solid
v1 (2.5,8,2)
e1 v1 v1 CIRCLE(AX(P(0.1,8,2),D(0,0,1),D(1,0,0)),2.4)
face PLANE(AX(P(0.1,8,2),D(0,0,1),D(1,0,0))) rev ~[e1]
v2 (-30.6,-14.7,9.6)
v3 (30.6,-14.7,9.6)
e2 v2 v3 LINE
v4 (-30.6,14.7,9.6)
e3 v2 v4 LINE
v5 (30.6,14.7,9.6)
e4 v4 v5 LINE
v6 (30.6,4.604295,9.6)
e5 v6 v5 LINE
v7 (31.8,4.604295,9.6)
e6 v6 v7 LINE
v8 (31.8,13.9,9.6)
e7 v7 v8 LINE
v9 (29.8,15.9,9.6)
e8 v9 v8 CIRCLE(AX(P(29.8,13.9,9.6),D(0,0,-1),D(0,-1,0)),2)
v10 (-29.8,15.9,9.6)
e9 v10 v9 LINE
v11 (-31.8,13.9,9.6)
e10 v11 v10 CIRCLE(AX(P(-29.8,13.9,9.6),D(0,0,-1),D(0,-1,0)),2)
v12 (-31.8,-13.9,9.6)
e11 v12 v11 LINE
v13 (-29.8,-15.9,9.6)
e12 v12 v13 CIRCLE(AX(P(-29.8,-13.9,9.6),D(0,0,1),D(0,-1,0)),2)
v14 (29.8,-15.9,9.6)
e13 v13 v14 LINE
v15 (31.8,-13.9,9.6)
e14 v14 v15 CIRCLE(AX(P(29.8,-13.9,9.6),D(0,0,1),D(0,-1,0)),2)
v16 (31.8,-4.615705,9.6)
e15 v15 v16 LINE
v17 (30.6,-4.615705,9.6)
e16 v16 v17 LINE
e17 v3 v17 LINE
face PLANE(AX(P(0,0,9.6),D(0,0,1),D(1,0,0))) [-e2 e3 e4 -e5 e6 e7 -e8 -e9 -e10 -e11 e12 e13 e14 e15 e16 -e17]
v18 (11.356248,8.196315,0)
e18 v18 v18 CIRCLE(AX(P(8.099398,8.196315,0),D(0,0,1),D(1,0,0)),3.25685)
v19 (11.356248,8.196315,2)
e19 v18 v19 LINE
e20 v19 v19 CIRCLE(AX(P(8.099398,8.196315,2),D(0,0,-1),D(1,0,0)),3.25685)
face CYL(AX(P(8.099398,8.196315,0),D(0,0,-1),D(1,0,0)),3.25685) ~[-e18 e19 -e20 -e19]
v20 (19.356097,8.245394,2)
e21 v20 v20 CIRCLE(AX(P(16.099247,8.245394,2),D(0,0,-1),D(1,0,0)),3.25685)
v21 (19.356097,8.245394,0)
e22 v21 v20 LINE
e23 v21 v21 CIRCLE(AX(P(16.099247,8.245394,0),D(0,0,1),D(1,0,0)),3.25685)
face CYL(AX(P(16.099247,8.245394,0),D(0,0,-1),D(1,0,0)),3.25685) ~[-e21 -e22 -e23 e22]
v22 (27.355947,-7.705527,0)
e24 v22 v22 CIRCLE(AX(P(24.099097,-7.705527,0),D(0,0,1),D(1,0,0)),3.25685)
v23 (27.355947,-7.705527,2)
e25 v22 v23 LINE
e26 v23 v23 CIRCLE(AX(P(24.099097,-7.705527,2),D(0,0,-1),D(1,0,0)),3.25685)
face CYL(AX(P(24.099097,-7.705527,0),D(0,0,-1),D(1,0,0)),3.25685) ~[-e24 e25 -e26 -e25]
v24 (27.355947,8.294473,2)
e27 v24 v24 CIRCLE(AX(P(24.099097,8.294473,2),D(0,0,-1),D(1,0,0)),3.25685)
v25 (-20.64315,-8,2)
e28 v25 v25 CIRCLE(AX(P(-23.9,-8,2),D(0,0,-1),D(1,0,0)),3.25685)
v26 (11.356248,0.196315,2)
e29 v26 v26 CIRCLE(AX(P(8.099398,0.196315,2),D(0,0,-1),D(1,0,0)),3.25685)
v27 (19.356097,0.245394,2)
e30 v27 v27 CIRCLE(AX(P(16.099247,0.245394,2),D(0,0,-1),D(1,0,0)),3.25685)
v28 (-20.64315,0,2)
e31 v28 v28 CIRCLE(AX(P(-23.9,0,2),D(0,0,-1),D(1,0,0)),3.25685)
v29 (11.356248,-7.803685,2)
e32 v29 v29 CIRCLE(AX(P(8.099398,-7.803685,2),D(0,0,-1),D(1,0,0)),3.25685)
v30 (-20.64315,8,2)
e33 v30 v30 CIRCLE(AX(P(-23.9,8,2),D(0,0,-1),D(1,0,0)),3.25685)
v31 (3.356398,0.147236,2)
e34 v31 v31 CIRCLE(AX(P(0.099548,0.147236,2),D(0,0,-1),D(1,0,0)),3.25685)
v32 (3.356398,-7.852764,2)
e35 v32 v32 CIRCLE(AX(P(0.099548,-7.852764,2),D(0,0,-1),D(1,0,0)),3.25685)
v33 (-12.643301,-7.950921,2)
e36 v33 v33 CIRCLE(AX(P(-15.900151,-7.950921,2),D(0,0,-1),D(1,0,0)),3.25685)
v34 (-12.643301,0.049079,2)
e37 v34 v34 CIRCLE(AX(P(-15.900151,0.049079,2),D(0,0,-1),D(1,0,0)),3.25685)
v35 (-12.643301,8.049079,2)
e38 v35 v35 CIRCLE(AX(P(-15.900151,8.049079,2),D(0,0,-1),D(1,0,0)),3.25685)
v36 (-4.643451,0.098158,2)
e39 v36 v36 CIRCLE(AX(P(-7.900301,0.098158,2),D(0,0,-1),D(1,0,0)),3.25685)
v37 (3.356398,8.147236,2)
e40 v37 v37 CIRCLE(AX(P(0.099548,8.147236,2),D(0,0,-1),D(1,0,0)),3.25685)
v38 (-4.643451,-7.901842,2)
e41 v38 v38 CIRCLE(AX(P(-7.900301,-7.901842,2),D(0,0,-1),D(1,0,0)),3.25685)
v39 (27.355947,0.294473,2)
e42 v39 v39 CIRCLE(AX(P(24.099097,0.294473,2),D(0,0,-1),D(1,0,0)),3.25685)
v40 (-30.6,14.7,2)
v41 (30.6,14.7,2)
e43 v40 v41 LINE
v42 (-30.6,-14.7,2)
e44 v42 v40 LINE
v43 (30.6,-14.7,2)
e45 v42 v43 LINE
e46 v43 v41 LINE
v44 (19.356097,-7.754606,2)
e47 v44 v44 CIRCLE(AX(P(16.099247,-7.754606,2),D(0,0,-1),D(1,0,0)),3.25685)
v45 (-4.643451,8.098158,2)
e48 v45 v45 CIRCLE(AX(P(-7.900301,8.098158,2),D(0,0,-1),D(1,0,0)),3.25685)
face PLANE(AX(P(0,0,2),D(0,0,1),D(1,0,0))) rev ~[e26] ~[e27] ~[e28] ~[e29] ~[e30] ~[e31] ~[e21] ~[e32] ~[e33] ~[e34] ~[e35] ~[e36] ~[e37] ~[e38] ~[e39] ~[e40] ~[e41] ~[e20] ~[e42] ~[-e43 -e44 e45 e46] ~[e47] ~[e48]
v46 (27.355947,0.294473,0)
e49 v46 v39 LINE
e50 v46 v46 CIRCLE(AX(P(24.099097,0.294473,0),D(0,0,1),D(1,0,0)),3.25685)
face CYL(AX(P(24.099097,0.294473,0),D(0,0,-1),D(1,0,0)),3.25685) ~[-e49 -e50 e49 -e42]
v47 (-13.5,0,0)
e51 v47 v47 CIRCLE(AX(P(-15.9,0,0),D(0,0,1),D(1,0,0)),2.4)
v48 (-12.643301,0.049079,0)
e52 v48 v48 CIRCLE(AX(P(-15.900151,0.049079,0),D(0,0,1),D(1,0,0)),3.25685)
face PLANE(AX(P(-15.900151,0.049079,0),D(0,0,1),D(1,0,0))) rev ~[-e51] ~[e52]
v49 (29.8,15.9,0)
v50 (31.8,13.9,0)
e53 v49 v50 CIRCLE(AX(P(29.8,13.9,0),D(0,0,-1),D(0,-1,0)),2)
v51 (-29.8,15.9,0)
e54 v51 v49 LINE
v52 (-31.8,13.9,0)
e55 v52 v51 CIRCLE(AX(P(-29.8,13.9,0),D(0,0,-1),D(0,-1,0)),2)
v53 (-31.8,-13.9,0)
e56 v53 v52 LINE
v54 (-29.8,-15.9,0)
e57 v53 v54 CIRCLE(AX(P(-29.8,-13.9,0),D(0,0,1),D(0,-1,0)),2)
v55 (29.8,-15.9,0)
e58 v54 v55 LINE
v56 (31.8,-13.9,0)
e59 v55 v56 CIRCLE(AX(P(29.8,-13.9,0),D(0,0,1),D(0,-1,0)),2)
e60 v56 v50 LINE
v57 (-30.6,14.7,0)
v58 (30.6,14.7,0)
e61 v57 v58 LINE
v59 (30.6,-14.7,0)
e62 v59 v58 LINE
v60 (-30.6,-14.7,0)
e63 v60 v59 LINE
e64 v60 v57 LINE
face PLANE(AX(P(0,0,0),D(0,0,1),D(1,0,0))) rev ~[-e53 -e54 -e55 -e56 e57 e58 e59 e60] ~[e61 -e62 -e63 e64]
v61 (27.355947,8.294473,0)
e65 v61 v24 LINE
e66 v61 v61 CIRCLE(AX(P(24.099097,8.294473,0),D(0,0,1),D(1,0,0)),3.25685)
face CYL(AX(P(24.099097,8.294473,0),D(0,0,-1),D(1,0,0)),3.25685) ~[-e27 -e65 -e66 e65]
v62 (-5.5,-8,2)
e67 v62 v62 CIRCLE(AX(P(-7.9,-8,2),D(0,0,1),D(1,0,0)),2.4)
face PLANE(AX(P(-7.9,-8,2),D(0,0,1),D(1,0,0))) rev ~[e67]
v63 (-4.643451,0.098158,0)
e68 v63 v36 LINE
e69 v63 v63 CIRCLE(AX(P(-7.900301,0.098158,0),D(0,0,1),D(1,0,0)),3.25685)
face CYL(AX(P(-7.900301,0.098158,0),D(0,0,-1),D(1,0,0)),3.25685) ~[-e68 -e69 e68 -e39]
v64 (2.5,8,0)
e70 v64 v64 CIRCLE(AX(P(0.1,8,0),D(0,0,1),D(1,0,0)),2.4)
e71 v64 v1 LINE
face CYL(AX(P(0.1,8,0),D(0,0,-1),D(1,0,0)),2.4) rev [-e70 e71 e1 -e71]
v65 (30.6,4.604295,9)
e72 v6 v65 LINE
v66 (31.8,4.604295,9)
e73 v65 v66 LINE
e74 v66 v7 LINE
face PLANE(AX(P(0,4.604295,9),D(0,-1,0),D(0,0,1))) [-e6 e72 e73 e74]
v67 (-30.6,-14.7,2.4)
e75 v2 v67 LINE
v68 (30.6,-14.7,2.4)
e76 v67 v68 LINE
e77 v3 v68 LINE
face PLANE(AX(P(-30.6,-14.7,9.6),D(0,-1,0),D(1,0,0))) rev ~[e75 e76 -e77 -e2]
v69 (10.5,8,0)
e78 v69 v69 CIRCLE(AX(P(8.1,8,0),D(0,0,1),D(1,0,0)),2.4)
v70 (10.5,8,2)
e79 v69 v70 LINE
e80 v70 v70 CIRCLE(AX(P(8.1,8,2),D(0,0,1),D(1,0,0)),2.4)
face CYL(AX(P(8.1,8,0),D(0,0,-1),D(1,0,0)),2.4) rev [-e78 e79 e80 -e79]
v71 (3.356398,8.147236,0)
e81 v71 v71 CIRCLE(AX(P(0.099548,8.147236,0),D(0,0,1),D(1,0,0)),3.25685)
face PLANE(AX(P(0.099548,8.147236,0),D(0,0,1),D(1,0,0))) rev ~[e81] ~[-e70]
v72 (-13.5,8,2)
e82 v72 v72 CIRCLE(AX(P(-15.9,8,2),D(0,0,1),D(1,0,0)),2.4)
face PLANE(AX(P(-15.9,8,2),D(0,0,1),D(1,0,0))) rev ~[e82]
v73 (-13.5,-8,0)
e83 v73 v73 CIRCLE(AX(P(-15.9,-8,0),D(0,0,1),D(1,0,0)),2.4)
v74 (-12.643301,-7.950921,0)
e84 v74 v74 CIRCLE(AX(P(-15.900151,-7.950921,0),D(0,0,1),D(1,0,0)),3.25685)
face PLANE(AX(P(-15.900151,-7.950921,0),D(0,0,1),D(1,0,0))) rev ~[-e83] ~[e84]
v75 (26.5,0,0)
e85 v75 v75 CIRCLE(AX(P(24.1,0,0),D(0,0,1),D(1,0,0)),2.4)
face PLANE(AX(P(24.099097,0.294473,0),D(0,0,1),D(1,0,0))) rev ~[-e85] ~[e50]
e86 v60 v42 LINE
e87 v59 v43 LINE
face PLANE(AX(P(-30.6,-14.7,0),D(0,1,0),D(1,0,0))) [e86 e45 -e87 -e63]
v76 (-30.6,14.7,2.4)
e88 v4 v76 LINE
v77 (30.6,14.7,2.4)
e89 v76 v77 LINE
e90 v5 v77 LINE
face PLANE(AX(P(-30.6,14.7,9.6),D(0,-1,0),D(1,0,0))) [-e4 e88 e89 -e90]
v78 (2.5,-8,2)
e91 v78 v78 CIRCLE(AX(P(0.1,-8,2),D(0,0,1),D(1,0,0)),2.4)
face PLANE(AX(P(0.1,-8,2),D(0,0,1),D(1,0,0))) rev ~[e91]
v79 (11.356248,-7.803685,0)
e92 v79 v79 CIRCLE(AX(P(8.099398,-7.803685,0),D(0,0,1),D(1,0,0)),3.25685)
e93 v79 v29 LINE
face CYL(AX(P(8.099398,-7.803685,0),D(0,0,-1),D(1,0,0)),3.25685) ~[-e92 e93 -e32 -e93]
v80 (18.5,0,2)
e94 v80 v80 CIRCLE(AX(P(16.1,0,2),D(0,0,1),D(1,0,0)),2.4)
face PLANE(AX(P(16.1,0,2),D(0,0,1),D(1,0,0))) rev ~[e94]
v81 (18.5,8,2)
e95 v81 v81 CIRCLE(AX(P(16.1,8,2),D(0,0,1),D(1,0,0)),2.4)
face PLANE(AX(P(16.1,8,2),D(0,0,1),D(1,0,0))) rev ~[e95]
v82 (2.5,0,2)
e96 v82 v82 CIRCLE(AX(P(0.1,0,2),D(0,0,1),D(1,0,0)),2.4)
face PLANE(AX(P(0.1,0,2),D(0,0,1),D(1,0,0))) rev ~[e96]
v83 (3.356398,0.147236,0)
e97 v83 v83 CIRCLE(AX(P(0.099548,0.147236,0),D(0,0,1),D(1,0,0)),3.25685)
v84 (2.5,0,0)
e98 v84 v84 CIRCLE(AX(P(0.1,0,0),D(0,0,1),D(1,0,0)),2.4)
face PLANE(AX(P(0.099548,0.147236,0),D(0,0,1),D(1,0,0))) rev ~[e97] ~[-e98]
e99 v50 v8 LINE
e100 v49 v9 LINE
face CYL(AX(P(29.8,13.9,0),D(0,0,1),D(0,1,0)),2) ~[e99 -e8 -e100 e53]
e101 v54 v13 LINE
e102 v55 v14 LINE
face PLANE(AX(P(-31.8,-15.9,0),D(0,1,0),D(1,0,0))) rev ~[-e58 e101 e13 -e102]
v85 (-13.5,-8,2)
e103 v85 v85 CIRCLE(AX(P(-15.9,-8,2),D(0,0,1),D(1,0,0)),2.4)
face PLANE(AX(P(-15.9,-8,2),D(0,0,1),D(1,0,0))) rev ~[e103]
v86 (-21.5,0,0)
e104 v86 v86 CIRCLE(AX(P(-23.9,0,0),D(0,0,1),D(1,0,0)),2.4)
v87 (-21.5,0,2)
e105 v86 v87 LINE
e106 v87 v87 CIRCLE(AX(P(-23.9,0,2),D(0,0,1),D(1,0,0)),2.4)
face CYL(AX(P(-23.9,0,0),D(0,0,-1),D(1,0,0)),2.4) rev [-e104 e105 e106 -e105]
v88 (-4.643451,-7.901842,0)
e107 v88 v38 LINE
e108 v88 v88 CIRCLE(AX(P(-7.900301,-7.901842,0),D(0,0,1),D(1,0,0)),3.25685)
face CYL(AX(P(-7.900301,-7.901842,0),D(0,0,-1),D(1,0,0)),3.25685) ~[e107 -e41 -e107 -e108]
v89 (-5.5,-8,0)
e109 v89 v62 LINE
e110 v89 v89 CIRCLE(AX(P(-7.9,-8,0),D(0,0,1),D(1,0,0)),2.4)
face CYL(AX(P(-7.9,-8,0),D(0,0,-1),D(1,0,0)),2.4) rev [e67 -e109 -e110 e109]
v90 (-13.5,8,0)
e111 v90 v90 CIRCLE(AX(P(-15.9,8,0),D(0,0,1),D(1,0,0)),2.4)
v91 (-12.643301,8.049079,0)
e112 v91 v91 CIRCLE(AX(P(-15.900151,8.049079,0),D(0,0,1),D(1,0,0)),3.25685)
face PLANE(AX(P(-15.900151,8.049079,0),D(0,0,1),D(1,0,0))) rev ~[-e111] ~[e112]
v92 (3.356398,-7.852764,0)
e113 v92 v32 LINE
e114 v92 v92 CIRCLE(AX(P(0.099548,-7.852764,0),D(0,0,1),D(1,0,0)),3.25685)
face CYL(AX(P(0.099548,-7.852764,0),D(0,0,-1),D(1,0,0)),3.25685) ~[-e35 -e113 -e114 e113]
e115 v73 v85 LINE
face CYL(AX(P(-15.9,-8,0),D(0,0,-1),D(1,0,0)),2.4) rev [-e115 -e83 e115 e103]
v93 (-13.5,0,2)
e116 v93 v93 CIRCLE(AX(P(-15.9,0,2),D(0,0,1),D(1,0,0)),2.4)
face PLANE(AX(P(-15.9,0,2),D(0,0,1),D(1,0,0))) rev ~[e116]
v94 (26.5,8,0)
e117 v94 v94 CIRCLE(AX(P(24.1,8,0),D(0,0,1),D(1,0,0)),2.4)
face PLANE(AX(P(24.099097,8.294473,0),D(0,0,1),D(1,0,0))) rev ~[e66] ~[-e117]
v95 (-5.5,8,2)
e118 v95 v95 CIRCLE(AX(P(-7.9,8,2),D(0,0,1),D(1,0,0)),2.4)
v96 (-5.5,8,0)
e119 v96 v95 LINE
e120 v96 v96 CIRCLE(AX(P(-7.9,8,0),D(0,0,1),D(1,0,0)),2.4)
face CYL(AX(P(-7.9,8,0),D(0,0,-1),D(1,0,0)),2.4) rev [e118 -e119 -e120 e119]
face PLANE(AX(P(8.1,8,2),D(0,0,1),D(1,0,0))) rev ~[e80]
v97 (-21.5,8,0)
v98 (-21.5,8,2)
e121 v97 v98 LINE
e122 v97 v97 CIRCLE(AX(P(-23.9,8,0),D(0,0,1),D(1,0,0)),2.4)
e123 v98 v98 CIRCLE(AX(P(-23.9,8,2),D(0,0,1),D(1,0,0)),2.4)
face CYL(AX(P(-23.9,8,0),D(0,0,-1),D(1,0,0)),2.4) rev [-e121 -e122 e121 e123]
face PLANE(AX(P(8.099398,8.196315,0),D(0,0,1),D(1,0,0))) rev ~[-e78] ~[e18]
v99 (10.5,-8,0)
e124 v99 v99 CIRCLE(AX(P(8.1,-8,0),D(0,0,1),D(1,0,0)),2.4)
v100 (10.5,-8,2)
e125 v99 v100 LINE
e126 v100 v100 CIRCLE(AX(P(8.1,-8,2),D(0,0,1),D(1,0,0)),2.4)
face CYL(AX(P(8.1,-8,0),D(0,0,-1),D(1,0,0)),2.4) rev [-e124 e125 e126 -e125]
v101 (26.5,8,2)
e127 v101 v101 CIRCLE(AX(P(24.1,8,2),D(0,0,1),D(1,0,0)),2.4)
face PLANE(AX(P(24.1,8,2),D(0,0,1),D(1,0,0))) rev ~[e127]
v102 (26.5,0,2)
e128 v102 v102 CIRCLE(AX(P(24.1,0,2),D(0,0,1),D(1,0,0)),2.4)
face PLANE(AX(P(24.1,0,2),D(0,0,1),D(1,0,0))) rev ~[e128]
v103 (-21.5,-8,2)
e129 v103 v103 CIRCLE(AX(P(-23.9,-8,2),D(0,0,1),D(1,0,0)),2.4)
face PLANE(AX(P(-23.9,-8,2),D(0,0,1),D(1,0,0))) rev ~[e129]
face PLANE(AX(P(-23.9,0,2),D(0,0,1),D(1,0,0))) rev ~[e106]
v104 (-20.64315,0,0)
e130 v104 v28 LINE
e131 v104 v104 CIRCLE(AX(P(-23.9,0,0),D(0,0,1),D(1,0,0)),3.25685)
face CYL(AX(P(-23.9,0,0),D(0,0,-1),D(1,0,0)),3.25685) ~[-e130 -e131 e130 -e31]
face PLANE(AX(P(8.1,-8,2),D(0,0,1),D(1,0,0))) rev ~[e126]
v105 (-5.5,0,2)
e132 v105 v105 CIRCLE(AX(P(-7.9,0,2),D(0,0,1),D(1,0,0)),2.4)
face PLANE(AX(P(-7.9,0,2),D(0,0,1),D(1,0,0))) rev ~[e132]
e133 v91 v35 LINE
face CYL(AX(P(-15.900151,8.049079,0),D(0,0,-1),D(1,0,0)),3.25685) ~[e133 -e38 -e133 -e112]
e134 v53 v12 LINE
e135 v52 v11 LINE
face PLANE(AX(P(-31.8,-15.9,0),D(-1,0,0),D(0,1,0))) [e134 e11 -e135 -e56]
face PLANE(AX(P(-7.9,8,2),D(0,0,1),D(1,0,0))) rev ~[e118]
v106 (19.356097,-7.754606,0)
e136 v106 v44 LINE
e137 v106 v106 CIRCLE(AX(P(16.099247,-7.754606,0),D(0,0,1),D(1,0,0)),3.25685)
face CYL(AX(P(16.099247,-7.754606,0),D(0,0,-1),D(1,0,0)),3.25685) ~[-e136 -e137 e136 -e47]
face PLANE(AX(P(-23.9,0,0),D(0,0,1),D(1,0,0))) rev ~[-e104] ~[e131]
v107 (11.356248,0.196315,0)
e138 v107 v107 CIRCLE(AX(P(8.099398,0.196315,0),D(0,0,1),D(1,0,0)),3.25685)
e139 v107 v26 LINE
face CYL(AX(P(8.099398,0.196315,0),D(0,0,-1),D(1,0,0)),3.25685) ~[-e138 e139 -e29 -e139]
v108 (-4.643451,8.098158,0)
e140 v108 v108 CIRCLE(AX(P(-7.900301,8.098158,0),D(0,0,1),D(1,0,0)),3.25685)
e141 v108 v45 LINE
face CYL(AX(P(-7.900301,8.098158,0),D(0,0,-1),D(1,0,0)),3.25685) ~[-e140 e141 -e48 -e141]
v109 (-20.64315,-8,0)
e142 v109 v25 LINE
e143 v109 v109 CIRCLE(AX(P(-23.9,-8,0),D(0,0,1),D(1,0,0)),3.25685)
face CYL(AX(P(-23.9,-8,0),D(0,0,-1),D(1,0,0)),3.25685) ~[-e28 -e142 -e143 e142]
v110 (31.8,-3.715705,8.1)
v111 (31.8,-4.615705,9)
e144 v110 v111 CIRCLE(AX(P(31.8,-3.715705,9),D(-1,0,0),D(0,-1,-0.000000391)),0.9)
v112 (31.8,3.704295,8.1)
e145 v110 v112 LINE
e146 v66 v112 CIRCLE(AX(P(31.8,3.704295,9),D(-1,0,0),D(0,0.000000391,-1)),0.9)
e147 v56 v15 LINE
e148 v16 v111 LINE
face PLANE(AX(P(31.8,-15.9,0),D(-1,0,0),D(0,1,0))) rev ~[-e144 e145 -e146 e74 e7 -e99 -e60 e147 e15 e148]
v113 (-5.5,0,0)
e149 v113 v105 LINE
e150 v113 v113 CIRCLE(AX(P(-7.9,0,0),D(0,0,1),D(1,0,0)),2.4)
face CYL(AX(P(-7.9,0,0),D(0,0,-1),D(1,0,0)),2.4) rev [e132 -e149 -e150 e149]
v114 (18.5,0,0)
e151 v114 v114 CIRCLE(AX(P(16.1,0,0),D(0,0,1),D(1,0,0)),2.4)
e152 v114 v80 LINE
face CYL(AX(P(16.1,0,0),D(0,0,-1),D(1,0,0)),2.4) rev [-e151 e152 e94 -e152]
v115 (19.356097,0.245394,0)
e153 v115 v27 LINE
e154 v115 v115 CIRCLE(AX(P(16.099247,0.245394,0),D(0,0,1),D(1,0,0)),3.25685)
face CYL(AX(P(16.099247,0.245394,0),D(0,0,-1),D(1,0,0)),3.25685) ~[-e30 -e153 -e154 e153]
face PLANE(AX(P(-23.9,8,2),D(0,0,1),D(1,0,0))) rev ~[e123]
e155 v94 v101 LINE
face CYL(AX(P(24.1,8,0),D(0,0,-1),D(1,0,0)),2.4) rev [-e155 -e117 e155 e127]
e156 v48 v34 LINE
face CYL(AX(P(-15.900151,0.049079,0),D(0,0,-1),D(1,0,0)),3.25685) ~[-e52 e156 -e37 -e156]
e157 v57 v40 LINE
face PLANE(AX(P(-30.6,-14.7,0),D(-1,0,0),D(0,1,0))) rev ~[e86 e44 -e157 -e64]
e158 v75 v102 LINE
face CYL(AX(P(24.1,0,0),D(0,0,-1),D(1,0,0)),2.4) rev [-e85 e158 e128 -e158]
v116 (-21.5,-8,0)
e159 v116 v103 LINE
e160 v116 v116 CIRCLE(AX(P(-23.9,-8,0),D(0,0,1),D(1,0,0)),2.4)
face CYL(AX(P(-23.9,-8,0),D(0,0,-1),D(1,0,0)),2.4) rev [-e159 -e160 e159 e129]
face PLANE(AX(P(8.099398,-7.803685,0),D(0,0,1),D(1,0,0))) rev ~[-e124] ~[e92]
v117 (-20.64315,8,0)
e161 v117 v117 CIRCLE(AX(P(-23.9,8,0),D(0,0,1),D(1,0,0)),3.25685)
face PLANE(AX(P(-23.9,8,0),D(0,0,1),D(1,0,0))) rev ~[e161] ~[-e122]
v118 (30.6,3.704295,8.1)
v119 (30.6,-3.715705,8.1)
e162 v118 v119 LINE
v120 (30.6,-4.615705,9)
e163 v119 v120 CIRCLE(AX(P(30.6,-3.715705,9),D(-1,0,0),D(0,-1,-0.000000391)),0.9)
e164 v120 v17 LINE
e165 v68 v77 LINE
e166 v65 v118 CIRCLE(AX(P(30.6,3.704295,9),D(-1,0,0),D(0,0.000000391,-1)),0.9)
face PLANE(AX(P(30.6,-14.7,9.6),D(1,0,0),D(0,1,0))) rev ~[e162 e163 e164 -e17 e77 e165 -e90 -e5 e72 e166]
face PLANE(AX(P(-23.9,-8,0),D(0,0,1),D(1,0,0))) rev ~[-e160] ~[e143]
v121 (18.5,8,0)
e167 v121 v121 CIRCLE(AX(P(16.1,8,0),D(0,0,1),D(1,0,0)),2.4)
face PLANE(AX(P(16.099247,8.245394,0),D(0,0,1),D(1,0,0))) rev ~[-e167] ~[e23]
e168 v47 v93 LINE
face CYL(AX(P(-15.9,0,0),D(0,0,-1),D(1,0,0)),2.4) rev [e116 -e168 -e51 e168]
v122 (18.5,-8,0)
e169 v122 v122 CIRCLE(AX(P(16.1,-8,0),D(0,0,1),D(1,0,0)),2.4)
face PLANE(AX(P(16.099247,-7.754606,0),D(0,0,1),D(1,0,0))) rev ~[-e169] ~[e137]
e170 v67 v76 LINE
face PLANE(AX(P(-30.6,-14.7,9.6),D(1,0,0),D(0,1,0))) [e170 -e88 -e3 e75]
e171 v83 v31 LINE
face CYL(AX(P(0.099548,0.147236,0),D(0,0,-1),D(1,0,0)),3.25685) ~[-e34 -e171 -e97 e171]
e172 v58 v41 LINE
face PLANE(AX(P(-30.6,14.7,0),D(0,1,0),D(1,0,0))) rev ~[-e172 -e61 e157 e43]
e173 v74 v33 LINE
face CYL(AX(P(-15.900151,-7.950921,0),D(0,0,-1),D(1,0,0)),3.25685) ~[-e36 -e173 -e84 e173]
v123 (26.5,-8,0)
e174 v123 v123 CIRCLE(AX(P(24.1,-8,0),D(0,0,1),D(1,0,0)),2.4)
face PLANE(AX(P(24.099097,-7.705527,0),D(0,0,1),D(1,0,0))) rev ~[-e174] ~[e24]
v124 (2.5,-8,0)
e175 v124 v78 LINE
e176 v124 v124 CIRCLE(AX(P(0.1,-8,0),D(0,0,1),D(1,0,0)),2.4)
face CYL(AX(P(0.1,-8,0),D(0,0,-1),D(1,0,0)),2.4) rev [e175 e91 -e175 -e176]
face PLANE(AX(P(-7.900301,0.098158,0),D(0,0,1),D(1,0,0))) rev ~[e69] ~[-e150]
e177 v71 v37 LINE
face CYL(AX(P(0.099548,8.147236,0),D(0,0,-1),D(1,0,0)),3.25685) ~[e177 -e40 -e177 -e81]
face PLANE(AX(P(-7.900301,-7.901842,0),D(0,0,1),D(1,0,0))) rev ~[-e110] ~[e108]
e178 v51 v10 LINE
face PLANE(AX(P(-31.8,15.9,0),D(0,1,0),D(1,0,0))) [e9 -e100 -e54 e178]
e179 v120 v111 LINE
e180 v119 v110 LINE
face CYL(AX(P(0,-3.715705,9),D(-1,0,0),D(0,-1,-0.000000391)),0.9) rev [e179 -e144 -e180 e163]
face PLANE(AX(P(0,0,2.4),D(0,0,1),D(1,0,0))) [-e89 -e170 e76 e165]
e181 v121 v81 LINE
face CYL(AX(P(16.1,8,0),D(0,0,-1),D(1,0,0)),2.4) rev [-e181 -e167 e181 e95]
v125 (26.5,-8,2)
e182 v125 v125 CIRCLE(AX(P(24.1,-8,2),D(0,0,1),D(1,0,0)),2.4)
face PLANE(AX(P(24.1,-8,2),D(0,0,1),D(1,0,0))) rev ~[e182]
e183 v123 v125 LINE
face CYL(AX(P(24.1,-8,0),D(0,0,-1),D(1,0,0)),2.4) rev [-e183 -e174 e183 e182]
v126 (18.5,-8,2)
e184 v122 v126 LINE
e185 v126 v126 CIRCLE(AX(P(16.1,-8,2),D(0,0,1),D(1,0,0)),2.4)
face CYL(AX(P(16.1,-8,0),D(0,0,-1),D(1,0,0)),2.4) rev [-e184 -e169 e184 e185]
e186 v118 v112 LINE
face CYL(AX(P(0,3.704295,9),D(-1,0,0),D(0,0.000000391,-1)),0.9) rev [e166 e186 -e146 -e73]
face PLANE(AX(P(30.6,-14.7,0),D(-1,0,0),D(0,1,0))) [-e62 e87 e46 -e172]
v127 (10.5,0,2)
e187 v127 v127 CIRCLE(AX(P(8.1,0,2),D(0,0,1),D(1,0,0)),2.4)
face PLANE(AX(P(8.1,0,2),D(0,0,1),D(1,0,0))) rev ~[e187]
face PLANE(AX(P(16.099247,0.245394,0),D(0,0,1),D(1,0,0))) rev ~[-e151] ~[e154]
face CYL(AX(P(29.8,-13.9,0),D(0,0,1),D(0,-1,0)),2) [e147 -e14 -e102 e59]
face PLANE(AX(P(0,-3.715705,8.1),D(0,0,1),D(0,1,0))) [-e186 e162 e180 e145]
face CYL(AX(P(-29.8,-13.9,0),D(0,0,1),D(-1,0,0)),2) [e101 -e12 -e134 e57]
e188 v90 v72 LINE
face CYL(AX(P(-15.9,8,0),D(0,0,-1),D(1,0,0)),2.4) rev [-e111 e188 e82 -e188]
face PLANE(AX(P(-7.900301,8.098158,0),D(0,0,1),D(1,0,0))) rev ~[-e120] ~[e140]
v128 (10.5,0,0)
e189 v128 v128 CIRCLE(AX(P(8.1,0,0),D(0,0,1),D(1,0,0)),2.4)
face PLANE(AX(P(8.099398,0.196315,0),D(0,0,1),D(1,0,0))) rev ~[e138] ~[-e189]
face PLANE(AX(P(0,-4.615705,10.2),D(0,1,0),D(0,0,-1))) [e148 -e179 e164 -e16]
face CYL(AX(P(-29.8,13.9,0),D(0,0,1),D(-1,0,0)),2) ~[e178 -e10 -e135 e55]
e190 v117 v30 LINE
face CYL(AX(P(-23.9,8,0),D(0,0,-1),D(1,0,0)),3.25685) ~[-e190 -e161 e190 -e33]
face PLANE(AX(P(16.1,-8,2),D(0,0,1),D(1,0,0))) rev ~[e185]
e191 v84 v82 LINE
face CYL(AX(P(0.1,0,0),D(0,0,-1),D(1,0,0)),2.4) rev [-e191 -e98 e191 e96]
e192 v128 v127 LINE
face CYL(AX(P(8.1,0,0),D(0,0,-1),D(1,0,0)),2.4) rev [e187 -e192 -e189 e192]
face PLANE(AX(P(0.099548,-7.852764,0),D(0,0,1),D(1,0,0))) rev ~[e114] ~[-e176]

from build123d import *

# Parameters (mm, degrees)
F0_W      = 63.6
F0_H      = 31.8
F1_DEPTH  = 9.6
F2_W      = 61.2
F2_H      = 29.4
F3_DEPTH  = 2
F4_R      = 2
F6_W      = 61.2
F6_H      = 29.4
F7_DEPTH  = 7.2
F8_R      = 3.25685
F10_DEPTH = 2.4
F9_R      = 2.4
F11_DEPTH = 2
F13_DEPTH = 32


with BuildPart() as f1:
    # F0 (on Top) → F1 (new body)
    with BuildSketch(Plane.XY):
        Rectangle(F0_W, F0_H)
    extrude(amount=F1_DEPTH)

    # F2 (on Top) → F3 (cut)
    with BuildSketch(Plane.XY):
        Rectangle(F2_W, F2_H)
    extrude(amount=F3_DEPTH, mode=Mode.SUBTRACT)

    # F4
    f4_edges = [f1.edges().sort_by_distance(p)[0] for p in [
        (-31.8, -15.9, 4.8),
        (-31.8, 15.9, 4.8),
        (31.8, 15.9, 4.8),
        (31.8, -15.9, 4.8),
    ]]
    fillet(f4_edges, radius=F4_R)

    # F6 (on offset) → F7 (cut)
    with BuildSketch(Plane.XY.offset(9.6)):
        Rectangle(F6_W, F6_H)
    extrude(amount=-F7_DEPTH, mode=Mode.SUBTRACT)

    # F8 (on Top) → F10 (join)
    with BuildSketch(Plane.XY):
        with Locations((-23.9, -8)):
            Circle(F8_R)
        with Locations((-23.9, 0)):
            Circle(F8_R)
        with Locations((-23.9, 8)):
            Circle(F8_R)
        with Locations((-15.900151, -7.950921)):
            Circle(F8_R)
        with Locations((-15.900151, 0.049079)):
            Circle(F8_R)
        with Locations((-15.900151, 8.049079)):
            Circle(F8_R)
        with Locations((-7.900301, -7.901842)):
            Circle(F8_R)
        with Locations((-7.900301, 0.098158)):
            Circle(F8_R)
        with Locations((-7.900301, 8.098158)):
            Circle(F8_R)
        with Locations((0.099548, -7.852764)):
            Circle(F8_R)
        with Locations((0.099548, 0.147236)):
            Circle(F8_R)
        with Locations((0.099548, 8.147236)):
            Circle(F8_R)
        with Locations((8.099398, -7.803685)):
            Circle(F8_R)
        with Locations((8.099398, 0.196315)):
            Circle(F8_R)
        with Locations((8.099398, 8.196315)):
            Circle(F8_R)
        with Locations((16.099247, -7.754606)):
            Circle(F8_R)
        with Locations((16.099247, 0.245394)):
            Circle(F8_R)
        with Locations((16.099247, 8.245394)):
            Circle(F8_R)
        with Locations((24.099097, -7.705527)):
            Circle(F8_R)
        with Locations((24.099097, 0.294473)):
            Circle(F8_R)
        with Locations((24.099097, 8.294473)):
            Circle(F8_R)
    extrude(amount=F10_DEPTH)

    # F9 (on Top) → F11 (cut)
    with BuildSketch(Plane.XY):
        with Locations((-23.9, -8)):
            Circle(F9_R)
        with Locations((-23.9, 0)):
            Circle(F9_R)
        with Locations((-23.9, 8)):
            Circle(F9_R)
        with Locations((-15.9, -8)):
            Circle(F9_R)
        with Locations((-15.9, 0)):
            Circle(F9_R)
        with Locations((-15.9, 8)):
            Circle(F9_R)
        with Locations((-7.9, -8)):
            Circle(F9_R)
        with Locations((-7.9, 0)):
            Circle(F9_R)
        with Locations((-7.9, 8)):
            Circle(F9_R)
        with Locations((0.1, -8)):
            Circle(F9_R)
        with Locations((0.1, 0)):
            Circle(F9_R)
        with Locations((0.1, 8)):
            Circle(F9_R)
        with Locations((8.1, -8)):
            Circle(F9_R)
        with Locations((8.1, 0)):
            Circle(F9_R)
        with Locations((8.1, 8)):
            Circle(F9_R)
        with Locations((16.1, -8)):
            Circle(F9_R)
        with Locations((16.1, 0)):
            Circle(F9_R)
        with Locations((16.1, 8)):
            Circle(F9_R)
        with Locations((24.1, -8)):
            Circle(F9_R)
        with Locations((24.1, 0)):
            Circle(F9_R)
        with Locations((24.1, 8)):
            Circle(F9_R)
    extrude(amount=F11_DEPTH, mode=Mode.SUBTRACT)

    # F12 (on Right) → F13 (cut)
    with BuildSketch(Plane.YZ):
        with BuildLine():
            Line((3.704295, 11.1), (-3.715705, 11.1))
            ThreePointArc((-3.715705, 11.1), (-4.352101, 10.836396), (-4.615705, 10.2))
            Line((-4.615705, 10.2), (-4.615705, 9))
            ThreePointArc((-4.615705, 9), (-4.352101, 8.363604), (-3.715705, 8.1))
            Line((-3.715705, 8.1), (3.704295, 8.1))
            ThreePointArc((3.704295, 8.1), (4.340691, 8.363604), (4.604295, 9))
            Line((4.604295, 9), (4.604295, 10.2))
            ThreePointArc((4.604295, 10.2), (4.340691, 10.836396), (3.704295, 11.1))
        make_face()
    extrude(amount=F13_DEPTH, mode=Mode.SUBTRACT)


solid = f1.part
